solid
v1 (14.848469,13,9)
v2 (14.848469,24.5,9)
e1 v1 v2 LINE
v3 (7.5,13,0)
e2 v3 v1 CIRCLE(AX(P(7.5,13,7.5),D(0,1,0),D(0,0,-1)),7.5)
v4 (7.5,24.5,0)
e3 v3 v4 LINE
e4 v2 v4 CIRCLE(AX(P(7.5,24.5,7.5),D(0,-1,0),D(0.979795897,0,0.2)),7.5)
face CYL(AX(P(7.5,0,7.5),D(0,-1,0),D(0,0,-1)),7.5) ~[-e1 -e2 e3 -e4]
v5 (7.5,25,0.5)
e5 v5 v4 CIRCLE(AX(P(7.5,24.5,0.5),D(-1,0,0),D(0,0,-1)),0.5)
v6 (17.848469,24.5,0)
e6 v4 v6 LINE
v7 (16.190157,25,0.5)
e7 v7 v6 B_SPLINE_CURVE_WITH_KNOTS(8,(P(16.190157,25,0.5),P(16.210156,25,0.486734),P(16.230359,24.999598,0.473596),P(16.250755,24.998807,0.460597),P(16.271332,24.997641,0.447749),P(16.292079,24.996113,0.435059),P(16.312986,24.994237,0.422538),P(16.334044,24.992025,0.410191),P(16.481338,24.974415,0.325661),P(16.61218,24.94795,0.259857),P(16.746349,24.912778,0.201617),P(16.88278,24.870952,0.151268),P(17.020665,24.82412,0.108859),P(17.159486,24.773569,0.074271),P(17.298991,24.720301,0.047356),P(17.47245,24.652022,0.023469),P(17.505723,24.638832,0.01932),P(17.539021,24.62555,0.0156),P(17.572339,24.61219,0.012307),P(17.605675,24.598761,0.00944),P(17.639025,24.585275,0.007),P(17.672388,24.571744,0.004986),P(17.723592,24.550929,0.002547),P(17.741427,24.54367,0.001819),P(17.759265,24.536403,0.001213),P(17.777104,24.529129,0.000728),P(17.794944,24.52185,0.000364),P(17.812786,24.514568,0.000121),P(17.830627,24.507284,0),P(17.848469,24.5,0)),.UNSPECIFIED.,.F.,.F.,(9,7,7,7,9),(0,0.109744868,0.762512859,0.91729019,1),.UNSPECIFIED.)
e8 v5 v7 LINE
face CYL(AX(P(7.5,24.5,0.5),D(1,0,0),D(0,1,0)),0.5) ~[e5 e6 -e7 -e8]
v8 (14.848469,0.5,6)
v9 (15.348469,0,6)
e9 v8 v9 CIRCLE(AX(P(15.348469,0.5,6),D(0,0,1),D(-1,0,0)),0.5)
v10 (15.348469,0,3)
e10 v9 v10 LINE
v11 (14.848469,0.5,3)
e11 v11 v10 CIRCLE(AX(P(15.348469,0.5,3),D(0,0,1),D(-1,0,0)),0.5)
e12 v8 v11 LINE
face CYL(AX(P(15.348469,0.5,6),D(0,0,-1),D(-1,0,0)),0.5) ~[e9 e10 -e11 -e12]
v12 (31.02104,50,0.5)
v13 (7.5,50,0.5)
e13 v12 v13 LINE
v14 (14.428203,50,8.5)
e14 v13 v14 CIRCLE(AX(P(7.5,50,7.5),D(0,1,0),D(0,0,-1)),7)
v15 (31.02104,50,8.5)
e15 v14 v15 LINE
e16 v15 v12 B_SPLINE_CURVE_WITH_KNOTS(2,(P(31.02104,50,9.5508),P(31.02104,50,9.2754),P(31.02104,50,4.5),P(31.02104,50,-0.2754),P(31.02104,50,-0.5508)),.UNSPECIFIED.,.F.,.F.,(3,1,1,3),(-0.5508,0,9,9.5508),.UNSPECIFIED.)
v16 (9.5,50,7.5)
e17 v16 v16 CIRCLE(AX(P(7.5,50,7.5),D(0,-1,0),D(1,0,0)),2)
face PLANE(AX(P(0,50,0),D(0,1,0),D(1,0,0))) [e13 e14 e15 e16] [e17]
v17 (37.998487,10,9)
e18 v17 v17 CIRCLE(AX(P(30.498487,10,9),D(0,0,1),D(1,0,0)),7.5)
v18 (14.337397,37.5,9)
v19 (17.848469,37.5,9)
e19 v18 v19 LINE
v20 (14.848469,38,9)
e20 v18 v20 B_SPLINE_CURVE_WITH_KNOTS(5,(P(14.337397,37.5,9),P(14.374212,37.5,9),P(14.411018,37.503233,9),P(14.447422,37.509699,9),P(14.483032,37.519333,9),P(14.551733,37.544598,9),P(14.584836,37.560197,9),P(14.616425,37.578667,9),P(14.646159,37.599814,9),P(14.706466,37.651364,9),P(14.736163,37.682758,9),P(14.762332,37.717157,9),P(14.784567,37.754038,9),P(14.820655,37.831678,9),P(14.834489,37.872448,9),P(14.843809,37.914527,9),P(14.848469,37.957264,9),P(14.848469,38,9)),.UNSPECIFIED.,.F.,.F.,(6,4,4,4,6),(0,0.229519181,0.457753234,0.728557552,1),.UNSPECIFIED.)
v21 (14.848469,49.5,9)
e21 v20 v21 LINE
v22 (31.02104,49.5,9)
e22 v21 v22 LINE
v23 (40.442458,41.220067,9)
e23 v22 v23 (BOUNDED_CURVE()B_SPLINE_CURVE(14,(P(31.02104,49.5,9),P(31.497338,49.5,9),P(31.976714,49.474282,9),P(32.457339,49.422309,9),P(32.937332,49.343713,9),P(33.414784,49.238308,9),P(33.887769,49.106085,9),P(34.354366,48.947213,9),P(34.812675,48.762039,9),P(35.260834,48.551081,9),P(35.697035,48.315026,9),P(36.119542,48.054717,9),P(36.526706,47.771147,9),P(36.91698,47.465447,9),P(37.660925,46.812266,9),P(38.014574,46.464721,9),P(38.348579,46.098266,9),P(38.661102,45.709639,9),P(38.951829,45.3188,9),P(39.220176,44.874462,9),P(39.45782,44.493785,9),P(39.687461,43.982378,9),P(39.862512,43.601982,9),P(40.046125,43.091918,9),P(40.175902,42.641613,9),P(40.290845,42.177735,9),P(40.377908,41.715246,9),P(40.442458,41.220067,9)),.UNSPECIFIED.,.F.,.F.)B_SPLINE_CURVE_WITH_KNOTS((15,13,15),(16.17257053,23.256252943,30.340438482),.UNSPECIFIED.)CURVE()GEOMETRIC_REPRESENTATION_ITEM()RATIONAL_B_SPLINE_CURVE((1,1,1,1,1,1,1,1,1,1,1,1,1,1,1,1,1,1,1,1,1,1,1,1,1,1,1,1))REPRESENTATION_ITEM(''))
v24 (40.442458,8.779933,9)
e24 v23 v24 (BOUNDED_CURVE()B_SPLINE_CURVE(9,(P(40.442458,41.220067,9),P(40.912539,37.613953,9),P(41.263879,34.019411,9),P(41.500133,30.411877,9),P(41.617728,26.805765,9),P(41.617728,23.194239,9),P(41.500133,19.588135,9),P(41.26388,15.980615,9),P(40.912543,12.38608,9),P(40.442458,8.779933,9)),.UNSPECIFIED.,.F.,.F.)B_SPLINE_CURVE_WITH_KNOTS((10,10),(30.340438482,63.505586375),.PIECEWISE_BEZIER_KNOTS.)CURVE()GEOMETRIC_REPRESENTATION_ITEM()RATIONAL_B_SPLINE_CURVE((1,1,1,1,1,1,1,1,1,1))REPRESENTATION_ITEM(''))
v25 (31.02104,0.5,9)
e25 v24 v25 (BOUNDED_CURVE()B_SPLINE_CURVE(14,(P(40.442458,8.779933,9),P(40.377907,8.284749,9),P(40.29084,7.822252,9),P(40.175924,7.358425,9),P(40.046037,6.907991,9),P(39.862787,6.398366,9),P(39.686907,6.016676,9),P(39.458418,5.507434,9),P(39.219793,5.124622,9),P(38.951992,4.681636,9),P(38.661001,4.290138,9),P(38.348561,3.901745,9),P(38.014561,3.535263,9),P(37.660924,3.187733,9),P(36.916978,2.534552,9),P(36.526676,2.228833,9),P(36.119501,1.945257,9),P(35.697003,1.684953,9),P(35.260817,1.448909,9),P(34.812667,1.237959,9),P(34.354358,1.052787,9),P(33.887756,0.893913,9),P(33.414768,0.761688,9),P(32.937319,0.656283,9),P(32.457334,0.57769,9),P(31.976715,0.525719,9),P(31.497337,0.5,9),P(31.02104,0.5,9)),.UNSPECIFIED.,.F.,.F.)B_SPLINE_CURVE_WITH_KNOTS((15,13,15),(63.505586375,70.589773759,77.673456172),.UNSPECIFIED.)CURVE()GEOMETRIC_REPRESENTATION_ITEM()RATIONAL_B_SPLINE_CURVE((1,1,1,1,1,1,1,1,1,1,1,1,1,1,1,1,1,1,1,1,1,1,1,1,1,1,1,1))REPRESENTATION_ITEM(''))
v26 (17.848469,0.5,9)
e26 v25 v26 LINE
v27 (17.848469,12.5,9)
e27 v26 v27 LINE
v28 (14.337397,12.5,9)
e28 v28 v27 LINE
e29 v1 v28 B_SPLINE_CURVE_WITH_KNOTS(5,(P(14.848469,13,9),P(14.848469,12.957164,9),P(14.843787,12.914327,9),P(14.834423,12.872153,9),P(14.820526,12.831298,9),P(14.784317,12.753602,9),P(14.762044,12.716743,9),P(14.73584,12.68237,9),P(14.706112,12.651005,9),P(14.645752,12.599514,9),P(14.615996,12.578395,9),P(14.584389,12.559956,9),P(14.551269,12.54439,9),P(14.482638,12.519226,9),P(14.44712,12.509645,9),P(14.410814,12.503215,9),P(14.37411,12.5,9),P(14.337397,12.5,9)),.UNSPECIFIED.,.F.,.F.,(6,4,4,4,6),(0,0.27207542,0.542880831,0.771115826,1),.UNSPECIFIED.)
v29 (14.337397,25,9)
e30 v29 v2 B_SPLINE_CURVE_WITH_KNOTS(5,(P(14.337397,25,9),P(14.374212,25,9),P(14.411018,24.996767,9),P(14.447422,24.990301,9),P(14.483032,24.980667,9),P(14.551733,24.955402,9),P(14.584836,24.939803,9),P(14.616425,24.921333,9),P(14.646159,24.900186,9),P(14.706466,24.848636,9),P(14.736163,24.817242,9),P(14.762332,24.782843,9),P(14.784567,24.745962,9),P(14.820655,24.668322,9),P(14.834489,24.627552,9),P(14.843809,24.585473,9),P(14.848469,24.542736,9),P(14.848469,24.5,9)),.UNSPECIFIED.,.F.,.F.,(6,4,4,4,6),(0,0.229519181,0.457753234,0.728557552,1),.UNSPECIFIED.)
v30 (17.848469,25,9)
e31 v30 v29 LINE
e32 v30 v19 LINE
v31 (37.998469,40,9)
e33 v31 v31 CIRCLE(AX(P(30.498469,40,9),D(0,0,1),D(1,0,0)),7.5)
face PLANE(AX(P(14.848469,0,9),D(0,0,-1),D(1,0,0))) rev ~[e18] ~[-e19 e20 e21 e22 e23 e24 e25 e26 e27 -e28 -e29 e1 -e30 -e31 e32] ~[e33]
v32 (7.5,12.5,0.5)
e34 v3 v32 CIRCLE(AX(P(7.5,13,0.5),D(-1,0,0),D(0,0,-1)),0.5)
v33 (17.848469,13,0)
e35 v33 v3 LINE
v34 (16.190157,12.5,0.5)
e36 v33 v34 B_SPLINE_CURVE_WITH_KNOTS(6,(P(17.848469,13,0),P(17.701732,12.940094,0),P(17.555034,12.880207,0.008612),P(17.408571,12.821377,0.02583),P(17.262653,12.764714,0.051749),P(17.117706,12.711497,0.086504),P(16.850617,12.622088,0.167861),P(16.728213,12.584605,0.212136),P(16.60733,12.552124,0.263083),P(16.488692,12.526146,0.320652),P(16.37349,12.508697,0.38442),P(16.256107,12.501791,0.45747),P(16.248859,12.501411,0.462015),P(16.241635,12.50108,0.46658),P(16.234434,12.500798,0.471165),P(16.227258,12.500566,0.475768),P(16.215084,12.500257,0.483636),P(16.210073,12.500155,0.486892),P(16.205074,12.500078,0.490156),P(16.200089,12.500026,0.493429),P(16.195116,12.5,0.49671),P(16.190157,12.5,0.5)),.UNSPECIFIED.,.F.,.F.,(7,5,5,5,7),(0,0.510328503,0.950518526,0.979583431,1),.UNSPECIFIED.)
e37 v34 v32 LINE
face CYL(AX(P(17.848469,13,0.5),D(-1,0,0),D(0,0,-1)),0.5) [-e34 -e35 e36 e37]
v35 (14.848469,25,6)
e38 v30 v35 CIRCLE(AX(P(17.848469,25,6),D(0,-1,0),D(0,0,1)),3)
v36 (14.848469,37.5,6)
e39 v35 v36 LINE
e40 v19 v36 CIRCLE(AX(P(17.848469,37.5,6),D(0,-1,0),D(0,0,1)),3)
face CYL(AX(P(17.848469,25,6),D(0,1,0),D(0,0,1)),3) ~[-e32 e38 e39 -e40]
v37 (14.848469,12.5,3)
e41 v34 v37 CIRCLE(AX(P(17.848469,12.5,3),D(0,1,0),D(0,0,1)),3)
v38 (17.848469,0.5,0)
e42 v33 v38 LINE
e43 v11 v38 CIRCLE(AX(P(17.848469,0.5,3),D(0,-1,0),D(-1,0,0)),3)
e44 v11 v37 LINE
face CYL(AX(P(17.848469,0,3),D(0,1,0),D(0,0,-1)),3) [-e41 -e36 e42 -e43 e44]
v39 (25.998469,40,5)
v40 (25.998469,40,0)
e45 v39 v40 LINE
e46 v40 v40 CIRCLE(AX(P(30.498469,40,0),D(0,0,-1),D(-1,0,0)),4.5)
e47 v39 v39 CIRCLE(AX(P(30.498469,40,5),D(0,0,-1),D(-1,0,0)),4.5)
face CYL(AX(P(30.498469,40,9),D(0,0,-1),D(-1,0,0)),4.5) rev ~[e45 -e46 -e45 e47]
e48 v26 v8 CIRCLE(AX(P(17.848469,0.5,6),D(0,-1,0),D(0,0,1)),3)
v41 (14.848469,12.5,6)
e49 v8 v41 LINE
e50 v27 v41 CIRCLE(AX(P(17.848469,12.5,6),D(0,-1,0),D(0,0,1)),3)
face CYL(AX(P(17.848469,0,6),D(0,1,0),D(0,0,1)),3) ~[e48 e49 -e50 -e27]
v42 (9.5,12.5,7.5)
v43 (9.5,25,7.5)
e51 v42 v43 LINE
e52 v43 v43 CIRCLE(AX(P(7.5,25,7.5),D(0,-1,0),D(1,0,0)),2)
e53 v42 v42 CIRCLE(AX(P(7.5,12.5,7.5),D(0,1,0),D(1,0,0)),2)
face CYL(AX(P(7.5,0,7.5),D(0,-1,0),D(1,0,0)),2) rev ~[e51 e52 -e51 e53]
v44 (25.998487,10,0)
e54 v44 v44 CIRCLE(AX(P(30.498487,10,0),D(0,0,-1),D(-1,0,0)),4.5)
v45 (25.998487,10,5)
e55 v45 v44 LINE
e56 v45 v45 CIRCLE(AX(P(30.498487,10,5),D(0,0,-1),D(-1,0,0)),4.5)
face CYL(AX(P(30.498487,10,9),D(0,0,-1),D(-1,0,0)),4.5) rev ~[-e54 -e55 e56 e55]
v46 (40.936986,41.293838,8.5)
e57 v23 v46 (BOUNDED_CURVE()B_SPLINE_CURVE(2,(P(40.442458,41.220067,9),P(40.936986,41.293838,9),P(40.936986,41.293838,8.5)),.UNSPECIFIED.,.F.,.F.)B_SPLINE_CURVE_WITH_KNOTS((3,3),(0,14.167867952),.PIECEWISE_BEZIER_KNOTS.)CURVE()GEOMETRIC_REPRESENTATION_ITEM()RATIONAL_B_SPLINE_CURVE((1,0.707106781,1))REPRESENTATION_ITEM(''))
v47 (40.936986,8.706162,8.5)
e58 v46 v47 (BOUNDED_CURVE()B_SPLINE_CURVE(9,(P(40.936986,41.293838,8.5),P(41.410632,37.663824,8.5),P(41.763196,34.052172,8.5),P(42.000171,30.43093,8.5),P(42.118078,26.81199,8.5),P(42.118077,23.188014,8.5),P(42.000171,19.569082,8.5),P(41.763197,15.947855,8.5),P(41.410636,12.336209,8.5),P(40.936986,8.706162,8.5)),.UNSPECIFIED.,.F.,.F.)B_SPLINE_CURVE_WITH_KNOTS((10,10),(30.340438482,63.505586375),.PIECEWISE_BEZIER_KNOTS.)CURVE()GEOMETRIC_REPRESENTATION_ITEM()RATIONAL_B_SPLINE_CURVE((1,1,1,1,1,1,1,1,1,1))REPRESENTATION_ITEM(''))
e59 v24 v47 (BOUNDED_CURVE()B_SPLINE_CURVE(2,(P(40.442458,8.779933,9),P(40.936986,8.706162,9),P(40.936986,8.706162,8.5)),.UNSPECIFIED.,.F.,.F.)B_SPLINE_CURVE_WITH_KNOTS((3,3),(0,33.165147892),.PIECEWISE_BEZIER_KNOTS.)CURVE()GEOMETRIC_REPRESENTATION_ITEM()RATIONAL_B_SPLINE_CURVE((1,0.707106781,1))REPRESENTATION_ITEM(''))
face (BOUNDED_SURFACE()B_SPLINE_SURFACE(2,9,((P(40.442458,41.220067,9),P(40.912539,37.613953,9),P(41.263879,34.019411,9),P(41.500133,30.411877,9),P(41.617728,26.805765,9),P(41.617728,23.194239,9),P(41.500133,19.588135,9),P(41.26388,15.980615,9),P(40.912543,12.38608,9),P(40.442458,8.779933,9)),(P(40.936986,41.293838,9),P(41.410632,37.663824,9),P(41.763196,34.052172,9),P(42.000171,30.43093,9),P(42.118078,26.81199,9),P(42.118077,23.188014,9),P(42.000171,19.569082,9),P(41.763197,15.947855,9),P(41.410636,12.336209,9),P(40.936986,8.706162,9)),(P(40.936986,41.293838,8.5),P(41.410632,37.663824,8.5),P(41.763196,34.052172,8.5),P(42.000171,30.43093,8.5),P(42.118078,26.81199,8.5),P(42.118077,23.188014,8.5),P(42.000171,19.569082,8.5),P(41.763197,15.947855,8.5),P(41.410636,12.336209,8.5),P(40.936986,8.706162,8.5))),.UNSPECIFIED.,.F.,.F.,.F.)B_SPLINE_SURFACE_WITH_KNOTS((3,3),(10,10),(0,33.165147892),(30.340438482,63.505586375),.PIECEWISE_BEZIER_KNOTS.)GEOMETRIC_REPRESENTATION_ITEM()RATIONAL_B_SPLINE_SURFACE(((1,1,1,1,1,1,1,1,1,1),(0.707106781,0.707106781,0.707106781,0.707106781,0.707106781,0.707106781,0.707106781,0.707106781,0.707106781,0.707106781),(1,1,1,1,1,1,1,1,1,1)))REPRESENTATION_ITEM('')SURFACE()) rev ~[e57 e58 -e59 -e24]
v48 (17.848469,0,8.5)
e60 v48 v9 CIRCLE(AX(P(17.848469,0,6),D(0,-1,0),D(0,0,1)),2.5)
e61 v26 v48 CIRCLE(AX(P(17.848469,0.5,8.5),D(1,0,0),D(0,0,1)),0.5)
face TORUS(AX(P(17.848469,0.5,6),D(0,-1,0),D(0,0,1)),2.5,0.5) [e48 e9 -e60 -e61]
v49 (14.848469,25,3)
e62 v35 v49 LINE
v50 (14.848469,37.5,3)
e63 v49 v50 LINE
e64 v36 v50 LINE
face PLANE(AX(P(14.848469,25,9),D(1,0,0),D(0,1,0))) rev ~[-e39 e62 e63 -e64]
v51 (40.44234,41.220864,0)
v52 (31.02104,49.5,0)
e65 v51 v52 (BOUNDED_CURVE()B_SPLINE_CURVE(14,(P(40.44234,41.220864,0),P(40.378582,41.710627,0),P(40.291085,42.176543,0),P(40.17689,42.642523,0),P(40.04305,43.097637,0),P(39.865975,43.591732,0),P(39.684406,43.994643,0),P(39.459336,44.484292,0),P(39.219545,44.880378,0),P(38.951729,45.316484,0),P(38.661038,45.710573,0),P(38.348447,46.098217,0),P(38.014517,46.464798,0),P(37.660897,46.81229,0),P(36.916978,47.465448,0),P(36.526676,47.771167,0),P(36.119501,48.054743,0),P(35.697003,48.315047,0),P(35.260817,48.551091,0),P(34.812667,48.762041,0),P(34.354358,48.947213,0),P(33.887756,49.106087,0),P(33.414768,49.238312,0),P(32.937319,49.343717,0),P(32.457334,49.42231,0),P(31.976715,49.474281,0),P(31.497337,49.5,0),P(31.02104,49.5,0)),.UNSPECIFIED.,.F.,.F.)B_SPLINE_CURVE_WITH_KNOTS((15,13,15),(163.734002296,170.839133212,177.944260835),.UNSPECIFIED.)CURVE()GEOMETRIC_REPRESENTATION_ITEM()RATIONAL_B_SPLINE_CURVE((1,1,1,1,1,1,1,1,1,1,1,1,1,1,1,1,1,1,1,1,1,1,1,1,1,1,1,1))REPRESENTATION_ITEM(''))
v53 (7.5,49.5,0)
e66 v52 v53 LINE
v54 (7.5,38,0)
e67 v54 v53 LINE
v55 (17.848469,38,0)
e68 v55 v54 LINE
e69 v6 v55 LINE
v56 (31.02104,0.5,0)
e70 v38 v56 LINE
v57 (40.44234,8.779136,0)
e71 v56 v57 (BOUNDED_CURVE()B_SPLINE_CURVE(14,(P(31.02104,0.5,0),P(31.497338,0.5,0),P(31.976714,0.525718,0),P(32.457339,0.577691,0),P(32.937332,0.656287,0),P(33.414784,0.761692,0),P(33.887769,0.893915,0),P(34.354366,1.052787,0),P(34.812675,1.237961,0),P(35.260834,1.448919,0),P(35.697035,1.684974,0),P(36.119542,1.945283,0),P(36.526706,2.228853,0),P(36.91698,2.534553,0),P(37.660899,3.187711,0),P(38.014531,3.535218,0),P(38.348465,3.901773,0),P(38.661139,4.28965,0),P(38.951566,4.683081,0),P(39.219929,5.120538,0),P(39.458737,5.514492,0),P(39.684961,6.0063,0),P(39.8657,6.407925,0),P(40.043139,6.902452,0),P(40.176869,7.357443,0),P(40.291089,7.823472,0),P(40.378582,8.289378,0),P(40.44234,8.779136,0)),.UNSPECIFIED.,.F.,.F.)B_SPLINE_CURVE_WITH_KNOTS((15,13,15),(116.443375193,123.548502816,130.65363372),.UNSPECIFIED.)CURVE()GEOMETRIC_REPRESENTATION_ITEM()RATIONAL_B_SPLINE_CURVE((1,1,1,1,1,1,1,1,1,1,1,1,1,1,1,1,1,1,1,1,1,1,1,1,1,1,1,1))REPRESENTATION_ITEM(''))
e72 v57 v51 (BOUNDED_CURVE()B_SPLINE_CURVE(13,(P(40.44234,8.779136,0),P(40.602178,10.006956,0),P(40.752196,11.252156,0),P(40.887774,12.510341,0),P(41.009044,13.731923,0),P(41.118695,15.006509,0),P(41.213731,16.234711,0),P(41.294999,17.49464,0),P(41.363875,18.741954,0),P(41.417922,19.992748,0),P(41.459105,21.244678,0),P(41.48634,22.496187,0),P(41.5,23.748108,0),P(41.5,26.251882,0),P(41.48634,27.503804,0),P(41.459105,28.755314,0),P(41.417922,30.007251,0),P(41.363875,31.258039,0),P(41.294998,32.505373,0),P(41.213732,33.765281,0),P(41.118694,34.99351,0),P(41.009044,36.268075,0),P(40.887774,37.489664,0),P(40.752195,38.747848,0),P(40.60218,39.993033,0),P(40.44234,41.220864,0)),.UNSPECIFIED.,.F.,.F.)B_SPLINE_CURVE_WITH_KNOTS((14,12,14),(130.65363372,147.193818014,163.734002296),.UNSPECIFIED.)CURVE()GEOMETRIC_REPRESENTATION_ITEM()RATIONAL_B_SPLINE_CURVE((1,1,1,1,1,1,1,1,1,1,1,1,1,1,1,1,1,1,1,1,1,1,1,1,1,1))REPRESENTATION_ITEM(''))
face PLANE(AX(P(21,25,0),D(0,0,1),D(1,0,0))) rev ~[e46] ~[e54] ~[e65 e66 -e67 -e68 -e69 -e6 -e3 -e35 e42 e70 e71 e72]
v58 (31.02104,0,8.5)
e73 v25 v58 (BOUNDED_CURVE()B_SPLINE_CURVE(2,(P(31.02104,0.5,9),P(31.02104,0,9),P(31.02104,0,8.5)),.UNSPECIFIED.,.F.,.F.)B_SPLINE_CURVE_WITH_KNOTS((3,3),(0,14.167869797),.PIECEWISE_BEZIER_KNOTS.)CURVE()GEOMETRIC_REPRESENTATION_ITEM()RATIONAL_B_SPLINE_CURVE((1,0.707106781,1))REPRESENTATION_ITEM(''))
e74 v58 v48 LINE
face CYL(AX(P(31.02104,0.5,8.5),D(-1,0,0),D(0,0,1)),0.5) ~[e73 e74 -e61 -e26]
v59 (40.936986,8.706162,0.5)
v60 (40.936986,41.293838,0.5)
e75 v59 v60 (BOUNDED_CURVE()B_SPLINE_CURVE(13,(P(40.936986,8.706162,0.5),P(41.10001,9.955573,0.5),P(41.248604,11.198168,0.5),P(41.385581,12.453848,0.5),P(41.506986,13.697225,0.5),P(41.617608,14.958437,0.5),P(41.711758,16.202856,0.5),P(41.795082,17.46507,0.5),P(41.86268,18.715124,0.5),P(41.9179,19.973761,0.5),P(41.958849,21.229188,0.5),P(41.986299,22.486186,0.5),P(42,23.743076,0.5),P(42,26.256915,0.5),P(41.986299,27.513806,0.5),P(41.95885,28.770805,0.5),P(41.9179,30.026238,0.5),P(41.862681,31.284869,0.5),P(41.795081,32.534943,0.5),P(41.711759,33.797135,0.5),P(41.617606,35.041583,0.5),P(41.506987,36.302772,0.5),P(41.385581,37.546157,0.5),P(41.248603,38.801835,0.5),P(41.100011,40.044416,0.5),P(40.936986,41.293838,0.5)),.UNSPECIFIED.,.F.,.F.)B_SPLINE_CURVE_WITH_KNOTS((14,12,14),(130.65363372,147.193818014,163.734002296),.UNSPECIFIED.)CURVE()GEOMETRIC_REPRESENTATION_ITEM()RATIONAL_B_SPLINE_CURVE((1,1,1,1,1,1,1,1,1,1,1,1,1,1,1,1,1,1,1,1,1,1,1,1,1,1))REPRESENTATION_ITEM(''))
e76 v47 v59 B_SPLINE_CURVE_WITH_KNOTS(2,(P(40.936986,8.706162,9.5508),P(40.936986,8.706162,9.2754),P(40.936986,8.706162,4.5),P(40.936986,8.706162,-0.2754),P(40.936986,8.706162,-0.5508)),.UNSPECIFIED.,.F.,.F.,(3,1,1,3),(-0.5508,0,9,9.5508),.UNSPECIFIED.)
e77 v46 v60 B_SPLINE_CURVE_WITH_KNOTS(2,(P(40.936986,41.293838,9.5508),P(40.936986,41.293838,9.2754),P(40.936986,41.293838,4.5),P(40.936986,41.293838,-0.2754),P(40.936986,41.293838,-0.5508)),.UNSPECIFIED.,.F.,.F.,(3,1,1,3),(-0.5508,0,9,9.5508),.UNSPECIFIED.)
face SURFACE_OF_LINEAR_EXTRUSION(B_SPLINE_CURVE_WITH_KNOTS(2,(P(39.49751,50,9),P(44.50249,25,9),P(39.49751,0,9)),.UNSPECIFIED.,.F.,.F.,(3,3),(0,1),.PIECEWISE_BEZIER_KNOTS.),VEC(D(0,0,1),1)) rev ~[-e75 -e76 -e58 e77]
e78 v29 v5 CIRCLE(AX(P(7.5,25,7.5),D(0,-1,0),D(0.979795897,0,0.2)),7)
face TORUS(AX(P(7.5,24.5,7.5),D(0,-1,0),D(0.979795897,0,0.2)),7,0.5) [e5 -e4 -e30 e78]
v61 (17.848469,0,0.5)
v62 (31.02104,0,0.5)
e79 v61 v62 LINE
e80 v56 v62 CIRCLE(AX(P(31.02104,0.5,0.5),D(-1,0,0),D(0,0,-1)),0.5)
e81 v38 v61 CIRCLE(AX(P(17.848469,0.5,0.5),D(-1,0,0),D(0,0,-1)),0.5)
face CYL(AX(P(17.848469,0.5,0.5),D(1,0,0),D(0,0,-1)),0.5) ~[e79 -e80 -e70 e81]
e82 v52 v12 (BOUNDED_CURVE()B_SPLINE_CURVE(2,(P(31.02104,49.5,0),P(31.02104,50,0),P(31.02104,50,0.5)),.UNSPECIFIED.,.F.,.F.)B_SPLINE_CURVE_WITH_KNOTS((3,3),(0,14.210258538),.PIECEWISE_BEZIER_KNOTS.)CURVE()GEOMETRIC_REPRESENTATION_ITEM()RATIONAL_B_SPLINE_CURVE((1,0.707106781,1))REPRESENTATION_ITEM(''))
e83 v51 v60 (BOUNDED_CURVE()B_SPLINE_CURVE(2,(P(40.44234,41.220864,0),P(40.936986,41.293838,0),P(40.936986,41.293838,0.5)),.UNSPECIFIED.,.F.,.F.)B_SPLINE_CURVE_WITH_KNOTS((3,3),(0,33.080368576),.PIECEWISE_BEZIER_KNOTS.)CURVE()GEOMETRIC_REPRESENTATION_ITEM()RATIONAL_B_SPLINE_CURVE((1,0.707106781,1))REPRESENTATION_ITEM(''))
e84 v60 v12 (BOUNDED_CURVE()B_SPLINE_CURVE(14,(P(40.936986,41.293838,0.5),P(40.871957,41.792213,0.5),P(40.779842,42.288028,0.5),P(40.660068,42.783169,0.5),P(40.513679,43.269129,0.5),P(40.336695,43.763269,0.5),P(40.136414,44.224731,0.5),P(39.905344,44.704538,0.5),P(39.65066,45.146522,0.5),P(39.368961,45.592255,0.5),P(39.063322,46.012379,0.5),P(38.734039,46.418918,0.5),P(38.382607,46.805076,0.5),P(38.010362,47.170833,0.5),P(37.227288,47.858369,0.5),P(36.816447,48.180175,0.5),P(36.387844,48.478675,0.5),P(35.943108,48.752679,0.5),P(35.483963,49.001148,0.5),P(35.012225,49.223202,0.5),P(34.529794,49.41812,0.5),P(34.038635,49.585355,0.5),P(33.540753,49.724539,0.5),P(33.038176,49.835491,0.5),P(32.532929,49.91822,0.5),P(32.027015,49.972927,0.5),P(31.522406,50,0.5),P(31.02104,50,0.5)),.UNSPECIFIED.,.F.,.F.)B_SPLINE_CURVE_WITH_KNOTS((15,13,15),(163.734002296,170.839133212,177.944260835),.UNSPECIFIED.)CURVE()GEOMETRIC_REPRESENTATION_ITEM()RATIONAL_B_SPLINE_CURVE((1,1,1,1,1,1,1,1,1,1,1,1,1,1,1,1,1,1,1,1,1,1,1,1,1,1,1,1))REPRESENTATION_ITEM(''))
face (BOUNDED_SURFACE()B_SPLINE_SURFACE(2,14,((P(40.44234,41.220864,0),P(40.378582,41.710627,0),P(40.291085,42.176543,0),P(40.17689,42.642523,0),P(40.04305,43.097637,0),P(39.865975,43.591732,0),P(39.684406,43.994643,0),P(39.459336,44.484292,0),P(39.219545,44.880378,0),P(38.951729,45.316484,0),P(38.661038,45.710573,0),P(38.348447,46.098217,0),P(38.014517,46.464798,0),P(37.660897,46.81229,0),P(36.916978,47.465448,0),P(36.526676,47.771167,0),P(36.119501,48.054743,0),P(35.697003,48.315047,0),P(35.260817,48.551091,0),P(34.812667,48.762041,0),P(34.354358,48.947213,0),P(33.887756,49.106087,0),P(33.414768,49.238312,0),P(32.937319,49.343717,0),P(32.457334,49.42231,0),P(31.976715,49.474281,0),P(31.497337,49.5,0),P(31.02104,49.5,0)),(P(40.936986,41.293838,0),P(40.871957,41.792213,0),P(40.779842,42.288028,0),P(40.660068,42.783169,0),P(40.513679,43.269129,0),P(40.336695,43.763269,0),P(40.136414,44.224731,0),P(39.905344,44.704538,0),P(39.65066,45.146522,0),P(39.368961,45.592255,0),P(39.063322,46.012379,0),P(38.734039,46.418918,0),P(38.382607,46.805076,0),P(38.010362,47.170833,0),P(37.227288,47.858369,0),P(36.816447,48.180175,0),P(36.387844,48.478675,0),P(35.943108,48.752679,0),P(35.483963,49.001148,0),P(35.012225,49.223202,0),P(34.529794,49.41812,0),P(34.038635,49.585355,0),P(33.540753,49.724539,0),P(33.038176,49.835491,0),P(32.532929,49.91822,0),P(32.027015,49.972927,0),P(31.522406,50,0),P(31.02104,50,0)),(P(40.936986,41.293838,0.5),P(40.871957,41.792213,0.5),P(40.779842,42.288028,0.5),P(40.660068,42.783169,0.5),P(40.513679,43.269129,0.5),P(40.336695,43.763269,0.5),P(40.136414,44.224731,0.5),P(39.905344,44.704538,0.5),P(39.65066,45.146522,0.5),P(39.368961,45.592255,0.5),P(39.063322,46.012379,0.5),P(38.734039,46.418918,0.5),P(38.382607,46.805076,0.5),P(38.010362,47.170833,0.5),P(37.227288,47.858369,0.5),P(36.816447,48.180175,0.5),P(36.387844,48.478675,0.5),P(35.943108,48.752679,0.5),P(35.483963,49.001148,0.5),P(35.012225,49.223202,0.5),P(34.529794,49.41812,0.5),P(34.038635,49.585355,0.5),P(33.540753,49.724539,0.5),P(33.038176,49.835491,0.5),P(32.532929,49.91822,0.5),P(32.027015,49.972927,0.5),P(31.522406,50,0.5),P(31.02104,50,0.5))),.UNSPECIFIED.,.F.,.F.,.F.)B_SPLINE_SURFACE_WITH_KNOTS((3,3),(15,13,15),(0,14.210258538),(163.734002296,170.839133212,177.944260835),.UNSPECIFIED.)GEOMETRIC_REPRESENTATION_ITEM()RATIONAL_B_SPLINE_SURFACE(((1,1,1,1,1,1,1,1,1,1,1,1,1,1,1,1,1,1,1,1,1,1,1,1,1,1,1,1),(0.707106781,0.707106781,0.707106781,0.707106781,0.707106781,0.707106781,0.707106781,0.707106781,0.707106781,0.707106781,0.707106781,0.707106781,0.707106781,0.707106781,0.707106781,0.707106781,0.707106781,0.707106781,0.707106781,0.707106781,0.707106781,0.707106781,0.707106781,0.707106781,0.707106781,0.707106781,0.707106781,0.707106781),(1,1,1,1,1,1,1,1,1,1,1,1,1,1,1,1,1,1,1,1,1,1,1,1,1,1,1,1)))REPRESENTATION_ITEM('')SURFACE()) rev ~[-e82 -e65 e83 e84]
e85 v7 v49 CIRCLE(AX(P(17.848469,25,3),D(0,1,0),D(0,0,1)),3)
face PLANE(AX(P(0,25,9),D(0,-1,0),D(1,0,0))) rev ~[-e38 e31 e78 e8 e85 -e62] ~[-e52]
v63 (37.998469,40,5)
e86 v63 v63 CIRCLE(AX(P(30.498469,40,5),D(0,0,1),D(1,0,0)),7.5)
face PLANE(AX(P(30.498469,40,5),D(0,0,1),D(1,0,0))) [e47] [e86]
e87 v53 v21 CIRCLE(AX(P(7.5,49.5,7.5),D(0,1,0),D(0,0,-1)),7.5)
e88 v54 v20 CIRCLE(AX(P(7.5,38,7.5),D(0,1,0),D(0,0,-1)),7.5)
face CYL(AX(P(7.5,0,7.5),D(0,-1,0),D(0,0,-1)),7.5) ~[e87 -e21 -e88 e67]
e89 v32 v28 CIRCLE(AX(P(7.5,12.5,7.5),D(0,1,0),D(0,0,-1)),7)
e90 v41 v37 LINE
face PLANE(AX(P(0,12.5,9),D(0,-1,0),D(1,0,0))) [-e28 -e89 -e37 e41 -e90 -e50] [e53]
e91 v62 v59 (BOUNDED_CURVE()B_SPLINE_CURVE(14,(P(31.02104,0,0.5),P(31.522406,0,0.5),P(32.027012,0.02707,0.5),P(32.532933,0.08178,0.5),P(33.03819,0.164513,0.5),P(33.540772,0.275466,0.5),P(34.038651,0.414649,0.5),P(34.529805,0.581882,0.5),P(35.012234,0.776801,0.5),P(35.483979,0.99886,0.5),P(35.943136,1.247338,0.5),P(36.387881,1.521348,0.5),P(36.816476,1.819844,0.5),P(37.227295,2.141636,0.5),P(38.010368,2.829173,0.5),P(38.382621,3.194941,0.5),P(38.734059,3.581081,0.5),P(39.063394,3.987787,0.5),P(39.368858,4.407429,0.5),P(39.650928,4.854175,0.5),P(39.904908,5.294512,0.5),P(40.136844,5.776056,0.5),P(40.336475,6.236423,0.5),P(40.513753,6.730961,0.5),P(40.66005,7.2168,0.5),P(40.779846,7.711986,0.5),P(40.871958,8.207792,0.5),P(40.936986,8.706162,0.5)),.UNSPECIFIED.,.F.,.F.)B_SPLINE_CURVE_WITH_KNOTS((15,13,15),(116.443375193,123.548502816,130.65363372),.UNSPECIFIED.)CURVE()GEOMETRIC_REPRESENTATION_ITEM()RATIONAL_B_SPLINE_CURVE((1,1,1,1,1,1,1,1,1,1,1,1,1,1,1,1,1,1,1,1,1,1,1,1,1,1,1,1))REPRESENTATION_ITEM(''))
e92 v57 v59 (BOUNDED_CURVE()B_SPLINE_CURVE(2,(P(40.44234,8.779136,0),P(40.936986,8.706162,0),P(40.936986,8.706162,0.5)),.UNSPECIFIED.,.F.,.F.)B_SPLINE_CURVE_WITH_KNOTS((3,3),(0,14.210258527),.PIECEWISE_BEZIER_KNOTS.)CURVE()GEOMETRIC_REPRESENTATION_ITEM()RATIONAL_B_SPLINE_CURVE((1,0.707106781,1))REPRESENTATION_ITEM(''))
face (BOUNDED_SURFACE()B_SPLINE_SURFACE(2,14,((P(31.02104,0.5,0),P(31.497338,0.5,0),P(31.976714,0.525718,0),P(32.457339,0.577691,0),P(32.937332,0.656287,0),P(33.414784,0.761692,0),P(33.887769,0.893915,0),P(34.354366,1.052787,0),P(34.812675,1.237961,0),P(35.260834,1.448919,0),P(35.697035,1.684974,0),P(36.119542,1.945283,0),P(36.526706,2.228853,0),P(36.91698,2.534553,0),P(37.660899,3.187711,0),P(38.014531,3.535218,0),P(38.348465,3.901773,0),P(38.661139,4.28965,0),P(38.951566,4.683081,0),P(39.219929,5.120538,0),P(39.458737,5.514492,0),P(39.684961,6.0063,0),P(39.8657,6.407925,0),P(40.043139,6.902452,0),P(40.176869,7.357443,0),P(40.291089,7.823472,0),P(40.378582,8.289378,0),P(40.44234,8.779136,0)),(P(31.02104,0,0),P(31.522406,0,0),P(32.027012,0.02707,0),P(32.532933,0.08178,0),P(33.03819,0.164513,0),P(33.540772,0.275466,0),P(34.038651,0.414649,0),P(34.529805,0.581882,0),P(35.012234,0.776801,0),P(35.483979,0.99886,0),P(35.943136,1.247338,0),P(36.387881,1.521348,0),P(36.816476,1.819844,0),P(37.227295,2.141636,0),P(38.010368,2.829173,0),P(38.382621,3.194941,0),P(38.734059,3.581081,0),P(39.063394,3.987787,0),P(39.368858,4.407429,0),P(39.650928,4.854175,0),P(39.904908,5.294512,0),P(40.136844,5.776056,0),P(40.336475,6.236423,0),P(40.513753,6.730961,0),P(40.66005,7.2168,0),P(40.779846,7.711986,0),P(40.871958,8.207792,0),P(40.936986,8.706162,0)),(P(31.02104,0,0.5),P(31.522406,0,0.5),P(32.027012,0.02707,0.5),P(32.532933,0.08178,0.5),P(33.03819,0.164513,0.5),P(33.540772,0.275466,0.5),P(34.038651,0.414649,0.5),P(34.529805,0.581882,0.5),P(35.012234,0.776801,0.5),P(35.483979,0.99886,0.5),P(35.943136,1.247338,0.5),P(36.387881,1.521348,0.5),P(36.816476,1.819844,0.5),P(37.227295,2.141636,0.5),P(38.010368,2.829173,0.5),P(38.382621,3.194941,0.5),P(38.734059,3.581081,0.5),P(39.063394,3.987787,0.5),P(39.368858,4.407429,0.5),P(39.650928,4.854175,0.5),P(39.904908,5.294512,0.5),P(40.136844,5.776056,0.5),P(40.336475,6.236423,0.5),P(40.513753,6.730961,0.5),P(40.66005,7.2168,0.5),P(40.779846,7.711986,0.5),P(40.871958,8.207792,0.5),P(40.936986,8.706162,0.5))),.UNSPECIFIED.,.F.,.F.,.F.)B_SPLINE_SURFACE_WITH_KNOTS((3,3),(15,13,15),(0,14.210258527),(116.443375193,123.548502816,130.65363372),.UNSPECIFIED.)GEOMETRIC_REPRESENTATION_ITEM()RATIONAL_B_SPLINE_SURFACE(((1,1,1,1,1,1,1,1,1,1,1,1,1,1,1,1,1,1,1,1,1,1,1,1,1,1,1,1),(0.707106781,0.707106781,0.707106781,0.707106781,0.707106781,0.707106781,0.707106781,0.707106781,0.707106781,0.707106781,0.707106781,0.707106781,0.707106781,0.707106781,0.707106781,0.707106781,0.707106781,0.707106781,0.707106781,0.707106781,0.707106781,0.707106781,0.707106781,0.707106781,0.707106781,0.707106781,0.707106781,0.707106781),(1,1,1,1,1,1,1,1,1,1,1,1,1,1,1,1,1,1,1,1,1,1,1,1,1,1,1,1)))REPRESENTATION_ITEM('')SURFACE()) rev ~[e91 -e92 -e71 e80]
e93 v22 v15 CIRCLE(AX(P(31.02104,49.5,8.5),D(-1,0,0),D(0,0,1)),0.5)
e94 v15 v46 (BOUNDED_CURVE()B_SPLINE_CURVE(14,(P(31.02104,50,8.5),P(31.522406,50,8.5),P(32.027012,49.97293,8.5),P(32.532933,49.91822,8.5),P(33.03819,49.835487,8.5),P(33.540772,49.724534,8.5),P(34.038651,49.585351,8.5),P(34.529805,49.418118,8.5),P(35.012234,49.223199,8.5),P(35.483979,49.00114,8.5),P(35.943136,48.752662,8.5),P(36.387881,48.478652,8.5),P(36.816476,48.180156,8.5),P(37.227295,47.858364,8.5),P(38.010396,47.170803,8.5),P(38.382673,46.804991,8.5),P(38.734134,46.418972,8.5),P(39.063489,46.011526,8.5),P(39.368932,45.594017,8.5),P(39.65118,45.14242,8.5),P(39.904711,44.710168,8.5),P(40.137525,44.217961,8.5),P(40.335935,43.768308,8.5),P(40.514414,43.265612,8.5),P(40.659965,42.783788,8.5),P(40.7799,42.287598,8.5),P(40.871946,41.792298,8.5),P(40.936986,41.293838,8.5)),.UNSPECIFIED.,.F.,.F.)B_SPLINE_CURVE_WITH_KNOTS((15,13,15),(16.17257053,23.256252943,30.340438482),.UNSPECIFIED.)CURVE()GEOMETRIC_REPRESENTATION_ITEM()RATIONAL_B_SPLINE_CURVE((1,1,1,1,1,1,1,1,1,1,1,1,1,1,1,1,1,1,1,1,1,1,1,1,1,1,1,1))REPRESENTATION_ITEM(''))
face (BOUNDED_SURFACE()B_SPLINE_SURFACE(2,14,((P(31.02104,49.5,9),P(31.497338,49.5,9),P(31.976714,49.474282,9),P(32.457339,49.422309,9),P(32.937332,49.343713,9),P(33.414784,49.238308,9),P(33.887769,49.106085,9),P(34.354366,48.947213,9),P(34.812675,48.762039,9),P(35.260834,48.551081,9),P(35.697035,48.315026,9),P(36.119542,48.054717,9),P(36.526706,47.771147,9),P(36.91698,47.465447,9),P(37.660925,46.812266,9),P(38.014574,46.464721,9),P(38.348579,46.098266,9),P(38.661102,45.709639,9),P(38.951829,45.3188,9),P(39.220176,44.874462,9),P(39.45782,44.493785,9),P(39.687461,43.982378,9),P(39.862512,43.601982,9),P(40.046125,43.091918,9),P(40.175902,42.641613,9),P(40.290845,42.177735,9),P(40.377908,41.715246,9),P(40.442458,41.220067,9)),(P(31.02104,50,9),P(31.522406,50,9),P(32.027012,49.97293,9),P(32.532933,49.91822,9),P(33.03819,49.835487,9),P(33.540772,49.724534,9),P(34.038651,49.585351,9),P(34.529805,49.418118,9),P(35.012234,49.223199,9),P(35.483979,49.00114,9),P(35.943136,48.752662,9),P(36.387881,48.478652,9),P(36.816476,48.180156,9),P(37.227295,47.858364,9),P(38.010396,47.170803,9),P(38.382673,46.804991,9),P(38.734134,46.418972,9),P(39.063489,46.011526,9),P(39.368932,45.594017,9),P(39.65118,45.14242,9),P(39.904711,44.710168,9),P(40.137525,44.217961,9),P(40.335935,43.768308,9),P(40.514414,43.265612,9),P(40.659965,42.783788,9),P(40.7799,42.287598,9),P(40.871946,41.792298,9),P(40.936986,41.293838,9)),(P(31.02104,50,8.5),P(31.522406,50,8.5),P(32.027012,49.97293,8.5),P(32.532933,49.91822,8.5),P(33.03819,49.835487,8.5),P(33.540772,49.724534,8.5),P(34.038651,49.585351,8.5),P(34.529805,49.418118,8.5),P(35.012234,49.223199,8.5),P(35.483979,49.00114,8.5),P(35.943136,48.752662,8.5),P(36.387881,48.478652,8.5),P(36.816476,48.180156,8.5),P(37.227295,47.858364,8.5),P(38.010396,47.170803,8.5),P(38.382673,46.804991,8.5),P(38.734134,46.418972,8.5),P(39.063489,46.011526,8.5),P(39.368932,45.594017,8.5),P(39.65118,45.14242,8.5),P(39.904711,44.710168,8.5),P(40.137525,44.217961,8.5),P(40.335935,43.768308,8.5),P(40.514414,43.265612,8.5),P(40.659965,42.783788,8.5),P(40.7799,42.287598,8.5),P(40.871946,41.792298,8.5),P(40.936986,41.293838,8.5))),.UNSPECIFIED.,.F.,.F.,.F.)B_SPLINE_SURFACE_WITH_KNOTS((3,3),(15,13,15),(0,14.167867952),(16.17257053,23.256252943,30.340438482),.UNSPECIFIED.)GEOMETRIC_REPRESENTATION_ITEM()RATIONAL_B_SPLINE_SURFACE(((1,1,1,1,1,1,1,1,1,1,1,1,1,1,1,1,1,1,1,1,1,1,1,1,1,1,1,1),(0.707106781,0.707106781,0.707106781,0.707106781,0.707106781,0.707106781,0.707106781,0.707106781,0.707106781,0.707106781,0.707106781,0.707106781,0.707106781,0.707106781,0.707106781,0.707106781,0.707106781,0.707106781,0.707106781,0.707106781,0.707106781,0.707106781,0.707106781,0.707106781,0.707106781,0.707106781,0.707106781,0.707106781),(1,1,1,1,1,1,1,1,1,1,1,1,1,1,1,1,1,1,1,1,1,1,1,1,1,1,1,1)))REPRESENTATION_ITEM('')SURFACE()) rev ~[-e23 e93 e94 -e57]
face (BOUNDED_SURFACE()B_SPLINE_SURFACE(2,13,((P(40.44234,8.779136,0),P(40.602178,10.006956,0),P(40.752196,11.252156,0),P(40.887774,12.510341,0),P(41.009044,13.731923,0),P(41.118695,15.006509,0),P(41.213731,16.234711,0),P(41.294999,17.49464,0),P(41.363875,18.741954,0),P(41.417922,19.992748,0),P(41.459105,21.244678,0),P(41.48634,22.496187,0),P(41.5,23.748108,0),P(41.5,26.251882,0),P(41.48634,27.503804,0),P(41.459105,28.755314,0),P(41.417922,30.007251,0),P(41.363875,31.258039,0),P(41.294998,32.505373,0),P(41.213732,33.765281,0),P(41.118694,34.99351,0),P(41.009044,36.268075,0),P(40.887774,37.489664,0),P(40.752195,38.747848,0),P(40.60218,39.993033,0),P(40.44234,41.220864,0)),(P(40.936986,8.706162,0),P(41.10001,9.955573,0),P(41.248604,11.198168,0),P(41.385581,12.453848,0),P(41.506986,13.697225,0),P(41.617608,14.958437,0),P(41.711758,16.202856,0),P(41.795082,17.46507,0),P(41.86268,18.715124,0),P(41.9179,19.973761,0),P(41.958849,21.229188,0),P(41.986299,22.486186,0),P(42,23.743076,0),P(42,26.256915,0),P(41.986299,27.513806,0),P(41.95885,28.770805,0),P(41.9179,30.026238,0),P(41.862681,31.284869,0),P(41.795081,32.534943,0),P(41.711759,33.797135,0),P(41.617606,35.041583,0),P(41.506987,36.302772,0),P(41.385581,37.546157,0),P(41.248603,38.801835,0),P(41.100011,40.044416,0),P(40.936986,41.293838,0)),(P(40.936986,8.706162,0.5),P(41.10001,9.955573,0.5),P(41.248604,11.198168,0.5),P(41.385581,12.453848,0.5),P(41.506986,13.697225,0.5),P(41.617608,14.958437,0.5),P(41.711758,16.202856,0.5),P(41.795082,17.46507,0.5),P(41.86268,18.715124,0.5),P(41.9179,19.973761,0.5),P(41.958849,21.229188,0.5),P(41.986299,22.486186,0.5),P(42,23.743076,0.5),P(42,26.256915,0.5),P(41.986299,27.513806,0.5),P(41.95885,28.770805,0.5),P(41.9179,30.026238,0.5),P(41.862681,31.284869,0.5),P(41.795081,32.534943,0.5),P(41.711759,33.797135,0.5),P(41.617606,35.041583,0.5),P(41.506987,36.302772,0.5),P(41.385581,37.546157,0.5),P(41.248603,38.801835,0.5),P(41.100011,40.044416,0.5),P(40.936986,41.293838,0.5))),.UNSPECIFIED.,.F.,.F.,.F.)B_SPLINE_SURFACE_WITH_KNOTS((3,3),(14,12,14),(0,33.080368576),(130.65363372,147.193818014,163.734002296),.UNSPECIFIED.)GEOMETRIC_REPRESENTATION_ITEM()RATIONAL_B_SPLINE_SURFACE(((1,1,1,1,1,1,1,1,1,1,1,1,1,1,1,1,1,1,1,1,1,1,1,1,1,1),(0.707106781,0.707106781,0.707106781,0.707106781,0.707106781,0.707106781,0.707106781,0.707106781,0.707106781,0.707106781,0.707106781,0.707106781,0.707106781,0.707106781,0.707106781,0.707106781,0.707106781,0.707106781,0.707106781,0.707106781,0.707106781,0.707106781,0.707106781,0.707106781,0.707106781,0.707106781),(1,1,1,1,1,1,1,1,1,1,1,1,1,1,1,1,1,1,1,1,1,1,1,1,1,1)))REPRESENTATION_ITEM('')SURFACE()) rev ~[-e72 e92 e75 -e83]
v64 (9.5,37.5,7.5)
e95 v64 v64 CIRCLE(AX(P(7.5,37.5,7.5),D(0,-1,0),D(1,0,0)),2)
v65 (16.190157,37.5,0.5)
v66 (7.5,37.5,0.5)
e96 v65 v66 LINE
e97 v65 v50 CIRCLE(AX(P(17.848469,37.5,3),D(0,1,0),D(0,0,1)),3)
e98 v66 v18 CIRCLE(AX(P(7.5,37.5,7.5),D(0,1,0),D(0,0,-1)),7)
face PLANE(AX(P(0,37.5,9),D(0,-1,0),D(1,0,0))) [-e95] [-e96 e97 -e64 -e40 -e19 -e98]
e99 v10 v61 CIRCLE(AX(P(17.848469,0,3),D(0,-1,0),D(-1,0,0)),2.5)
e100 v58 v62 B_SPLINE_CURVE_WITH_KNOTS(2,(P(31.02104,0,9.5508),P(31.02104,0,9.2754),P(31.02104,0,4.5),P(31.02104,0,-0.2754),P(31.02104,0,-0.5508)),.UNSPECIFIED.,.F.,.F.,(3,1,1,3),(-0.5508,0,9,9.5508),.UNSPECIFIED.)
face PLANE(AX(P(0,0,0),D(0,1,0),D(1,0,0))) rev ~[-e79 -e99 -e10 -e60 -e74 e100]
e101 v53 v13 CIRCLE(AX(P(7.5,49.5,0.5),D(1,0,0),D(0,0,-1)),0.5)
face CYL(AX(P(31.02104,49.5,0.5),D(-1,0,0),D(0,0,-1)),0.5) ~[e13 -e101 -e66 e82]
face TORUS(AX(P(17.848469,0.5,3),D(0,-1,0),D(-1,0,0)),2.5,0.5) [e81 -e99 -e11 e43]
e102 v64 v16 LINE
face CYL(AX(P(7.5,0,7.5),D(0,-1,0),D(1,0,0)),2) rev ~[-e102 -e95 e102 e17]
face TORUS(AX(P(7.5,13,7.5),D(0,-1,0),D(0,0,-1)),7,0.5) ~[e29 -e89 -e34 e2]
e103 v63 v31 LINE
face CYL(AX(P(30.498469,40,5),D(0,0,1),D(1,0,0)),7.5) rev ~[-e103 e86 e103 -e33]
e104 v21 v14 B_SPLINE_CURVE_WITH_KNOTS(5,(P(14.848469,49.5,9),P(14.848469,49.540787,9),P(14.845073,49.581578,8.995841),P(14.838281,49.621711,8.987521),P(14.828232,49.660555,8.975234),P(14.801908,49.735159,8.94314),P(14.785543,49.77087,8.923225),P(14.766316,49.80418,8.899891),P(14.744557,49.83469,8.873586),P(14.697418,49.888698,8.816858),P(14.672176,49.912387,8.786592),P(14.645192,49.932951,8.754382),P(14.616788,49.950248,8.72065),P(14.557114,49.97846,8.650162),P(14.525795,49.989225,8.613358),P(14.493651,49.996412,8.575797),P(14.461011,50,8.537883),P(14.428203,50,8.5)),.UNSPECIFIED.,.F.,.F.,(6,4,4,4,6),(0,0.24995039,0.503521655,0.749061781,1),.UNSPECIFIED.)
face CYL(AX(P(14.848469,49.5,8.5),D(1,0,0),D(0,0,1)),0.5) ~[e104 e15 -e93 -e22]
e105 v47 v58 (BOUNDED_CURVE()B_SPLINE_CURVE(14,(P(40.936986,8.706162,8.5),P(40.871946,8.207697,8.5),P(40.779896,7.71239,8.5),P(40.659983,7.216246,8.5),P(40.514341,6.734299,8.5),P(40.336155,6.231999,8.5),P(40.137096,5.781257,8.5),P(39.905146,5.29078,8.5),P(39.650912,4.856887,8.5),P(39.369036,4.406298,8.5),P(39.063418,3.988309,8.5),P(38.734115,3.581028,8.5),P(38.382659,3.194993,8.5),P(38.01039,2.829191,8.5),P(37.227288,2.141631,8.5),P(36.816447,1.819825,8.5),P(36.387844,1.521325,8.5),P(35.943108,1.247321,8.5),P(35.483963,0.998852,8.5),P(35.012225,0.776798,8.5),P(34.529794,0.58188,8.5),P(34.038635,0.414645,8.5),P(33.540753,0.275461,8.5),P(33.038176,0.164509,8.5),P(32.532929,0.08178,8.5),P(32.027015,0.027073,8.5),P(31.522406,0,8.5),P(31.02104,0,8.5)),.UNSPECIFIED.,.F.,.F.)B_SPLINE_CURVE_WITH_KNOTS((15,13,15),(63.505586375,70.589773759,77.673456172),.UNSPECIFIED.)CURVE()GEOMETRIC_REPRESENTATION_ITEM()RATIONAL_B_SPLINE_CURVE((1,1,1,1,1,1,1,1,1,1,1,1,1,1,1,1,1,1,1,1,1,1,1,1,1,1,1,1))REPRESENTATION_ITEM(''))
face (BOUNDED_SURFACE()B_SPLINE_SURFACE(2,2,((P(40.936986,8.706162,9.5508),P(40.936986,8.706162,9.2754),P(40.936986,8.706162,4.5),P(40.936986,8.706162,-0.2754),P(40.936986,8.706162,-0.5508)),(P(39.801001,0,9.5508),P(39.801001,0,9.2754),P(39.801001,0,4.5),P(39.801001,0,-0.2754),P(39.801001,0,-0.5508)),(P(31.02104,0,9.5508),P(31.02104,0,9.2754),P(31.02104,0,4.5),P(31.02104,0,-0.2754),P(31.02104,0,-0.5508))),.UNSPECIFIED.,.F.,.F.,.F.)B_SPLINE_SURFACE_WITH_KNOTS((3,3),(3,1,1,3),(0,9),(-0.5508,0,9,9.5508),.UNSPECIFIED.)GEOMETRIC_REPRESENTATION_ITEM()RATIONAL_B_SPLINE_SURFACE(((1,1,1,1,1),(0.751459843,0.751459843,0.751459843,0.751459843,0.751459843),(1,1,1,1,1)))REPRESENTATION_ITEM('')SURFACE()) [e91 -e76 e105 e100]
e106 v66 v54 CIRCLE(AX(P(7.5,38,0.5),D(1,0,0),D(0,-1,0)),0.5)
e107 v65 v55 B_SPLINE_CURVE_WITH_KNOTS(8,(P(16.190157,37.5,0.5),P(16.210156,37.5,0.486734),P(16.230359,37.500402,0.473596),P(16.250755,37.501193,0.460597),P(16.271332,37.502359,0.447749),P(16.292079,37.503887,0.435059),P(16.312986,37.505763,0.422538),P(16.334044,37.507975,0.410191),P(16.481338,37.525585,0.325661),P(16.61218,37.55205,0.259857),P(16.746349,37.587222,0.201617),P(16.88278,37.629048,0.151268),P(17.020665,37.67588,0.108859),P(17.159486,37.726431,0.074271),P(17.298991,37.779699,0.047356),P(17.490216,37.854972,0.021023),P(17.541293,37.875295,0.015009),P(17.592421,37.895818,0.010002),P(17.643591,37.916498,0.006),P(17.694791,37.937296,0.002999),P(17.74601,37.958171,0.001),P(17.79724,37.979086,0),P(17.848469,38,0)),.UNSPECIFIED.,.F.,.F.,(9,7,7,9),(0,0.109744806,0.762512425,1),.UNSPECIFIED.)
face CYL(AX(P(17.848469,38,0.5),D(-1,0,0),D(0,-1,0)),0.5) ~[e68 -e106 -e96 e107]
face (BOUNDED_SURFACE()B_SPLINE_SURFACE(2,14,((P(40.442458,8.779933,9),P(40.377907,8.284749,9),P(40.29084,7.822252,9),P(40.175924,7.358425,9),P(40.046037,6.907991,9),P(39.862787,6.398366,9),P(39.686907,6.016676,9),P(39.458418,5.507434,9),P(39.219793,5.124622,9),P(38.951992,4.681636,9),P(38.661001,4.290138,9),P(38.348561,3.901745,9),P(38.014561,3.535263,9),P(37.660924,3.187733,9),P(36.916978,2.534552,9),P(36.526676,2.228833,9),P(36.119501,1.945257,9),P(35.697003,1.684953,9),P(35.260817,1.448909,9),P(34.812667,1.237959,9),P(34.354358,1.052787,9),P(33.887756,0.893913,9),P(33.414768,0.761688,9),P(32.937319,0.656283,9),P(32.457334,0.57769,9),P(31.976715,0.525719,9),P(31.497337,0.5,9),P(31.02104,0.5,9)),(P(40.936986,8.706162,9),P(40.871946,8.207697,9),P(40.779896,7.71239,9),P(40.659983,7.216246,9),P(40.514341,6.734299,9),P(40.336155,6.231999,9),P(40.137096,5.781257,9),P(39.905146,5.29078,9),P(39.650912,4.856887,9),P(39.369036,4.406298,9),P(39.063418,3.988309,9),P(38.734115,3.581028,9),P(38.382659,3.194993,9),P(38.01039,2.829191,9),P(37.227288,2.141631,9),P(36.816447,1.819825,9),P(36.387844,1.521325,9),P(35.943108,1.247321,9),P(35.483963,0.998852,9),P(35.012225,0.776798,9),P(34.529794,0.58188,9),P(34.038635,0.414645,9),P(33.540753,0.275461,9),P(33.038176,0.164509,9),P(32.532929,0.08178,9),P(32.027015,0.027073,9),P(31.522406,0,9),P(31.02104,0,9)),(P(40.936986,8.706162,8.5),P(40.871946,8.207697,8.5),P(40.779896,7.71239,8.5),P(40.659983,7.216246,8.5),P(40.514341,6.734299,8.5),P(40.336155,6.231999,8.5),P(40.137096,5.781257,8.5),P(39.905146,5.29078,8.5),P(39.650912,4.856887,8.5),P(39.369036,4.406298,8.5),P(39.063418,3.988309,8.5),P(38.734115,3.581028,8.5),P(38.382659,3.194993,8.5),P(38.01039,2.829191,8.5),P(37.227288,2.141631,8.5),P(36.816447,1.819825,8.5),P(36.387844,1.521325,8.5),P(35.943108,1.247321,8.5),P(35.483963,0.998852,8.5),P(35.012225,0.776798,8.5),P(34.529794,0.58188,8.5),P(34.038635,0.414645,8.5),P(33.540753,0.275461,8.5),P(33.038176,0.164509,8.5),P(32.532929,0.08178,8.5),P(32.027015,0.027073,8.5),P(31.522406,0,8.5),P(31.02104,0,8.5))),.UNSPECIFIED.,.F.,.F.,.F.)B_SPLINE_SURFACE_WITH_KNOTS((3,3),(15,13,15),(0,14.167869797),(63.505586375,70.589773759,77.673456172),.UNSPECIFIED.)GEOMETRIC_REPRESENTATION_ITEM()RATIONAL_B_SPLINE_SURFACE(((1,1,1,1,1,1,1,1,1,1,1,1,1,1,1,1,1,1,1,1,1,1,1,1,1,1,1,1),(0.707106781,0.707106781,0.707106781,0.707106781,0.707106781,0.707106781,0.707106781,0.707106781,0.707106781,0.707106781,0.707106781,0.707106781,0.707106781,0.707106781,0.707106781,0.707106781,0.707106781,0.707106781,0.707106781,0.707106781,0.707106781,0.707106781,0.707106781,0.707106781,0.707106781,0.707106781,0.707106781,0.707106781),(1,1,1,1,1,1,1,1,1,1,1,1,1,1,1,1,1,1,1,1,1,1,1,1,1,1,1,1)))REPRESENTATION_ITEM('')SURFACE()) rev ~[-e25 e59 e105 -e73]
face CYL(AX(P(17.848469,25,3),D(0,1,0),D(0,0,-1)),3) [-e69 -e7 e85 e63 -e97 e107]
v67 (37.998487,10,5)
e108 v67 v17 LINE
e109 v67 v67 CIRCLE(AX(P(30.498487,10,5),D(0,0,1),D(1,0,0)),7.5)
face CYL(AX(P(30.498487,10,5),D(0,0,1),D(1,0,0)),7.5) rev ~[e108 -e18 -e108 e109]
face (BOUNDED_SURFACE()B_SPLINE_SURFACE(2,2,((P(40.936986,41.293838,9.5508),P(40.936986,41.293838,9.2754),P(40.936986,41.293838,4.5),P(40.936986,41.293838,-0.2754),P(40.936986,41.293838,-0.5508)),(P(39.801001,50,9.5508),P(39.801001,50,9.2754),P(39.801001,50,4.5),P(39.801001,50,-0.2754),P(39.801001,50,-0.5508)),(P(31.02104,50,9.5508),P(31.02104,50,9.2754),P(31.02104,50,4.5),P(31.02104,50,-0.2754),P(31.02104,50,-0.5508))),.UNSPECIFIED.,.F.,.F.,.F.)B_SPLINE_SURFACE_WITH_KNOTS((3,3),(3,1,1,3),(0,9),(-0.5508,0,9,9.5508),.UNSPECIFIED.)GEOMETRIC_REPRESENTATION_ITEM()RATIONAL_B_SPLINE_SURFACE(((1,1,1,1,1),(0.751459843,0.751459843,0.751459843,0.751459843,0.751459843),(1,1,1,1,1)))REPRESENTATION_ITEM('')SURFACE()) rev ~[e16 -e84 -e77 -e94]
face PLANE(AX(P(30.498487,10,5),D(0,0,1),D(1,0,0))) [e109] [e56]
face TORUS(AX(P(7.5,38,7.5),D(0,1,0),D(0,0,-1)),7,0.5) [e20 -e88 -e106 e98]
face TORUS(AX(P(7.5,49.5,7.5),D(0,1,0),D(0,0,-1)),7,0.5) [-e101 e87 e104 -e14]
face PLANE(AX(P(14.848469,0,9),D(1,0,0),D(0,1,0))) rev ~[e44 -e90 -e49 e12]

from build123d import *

# Parameters (mm, degrees)
SKETCH1_W                                           = 42
SKETCH1_H                                           = 50
BOSS_EXTRUDE1_DEPTH                                 = 15
SKETCH2_OUTSIDE_W                                   = 57.4
SKETCH2_OUTSIDE_H                                   = 30.4
SKETCH2_OUTSIDE_R                                   = 2
CUT_EXTRUDE1_DEPTH                                  = 51
CUT_EXTRUDE2_DEPTH                                  = 15
FILLET1_R                                           = 10
CBORE_FOR_M8_HEX_SOCKET_HEAD_CAP_SCREW1_D           = 9
CBORE_FOR_M8_HEX_SOCKET_HEAD_CAP_SCREW1_DEPTH       = 15
CBORE_FOR_M8_HEX_SOCKET_HEAD_CAP_SCREW1_CBORE_D     = 15
CBORE_FOR_M8_HEX_SOCKET_HEAD_CAP_SCREW1_CBORE_DEPTH = 4
CBORE_FOR_M8_HEX_SOCKET_HEAD_CAP_SCREW1_TIP         = 2.703872786
SKETCH6_W                                           = 14.848469228
SKETCH6_H                                           = 12.5
CUT_EXTRUDE3_DEPTH                                  = 7.0000001
CUT_EXTRUDE3_DEPTH_BACK                             = 10.0000001
FILLET2_R                                           = 3
FILLET3_R                                           = 0.5


with BuildPart() as part:
    # Sketch1 → Boss-Extrude1 (new body)
    with BuildSketch(Plane.XY):
        with Locations((21, 25)):
            Rectangle(SKETCH1_W, SKETCH1_H)
    extrude(amount=BOSS_EXTRUDE1_DEPTH)

    # Sketch2 outside → Cut-Extrude1 (cut, through all)
    with BuildSketch(Plane.XZ):
        with Locations((21, 7.5)):
            Rectangle(SKETCH2_OUTSIDE_W, SKETCH2_OUTSIDE_H)
        with BuildLine():
            Line((42, 0), (7.5, 0))
            ThreePointArc((7.5, 0), (1.690524981, 12.24341649), (14.848469228, 9))
            Line((14.848469228, 9), (42, 9))
            Line((42, 9), (42, 0))
        make_face(mode=Mode.SUBTRACT)
        with Locations((7.5, 7.5)):
            Circle(SKETCH2_OUTSIDE_R)
    extrude(amount=-CUT_EXTRUDE1_DEPTH, mode=Mode.SUBTRACT)

    # Sketch3 → Cut-Extrude2 (cut)
    with BuildSketch(Plane.XY.offset(9)):
        with BuildLine():
            Line((39.497510003, 50), (57.034840996, 50))
            Line((57.034840996, 50), (57.034840996, 0))
            Line((57.034840996, 0), (39.497510003, 0))
            add(Edge.make_bspline(
                [(39.497510003, 50), (44.502489997, 25), (39.497510003, 0)],
                knots=[0, 0, 0, 1, 1, 1], degree=2))
        make_face()
    extrude(amount=-CUT_EXTRUDE2_DEPTH, mode=Mode.SUBTRACT)

    # Fillet1
    fillet1_edges = [part.edges().sort_by_distance(p)[0] for p in [
        (39.497510003, 50, 4.5),
        (39.497510003, 0, 4.5),
    ]]
    fillet(fillet1_edges, radius=FILLET1_R)

    # CBORE for M8 Hex Socket Head Cap Screw1
    with Locations(Plane.XY.offset(9)):
        with Locations((30.498486782, 10), (30.498469228, 40)):
            CounterBoreHole(CBORE_FOR_M8_HEX_SOCKET_HEAD_CAP_SCREW1_D / 2, CBORE_FOR_M8_HEX_SOCKET_HEAD_CAP_SCREW1_CBORE_D / 2, CBORE_FOR_M8_HEX_SOCKET_HEAD_CAP_SCREW1_CBORE_DEPTH, depth=CBORE_FOR_M8_HEX_SOCKET_HEAD_CAP_SCREW1_DEPTH)
            with Locations((0, 0, -(CBORE_FOR_M8_HEX_SOCKET_HEAD_CAP_SCREW1_DEPTH + CBORE_FOR_M8_HEX_SOCKET_HEAD_CAP_SCREW1_TIP / 2))):  # 118° drill point
                Cone(0, CBORE_FOR_M8_HEX_SOCKET_HEAD_CAP_SCREW1_D / 2, CBORE_FOR_M8_HEX_SOCKET_HEAD_CAP_SCREW1_TIP, mode=Mode.SUBTRACT)

    # Sketch6 → Cut-Extrude3 (cut, two sides)
    with BuildSketch(Plane.XY.offset(9)) as cut_extrude3_sk:
        with Locations((7.424234614, 6.25)):
            Rectangle(SKETCH6_W, SKETCH6_H)
        with Locations((7.424234614, 31.25)):
            Rectangle(SKETCH6_W, SKETCH6_H)
    extrude(amount=CUT_EXTRUDE3_DEPTH, mode=Mode.SUBTRACT)
    extrude(cut_extrude3_sk.sketch, amount=-CUT_EXTRUDE3_DEPTH_BACK, mode=Mode.SUBTRACT)

    # Fillet2
    fillet2_edges = [part.edges().sort_by_distance(p)[0] for p in [
        (14.848469228, 31.25, 9),
        (14.848469228, 6.25, 9),
        (14.848469228, 6.25, 0),
        (14.848469228, 31.25, 0),
    ]]
    fillet(fillet2_edges, radius=FILLET2_R)

    # Fillet3
    fillet3_edges = [part.edges().sort_by_distance(p)[0] for p in [
        (1.690524981, 12.5, 12.24341649),
        (11.174234614, 12.5, 0),
        (1.690524981, 37.5, 12.24341649),
        (11.174234614, 37.5, 0),
        (1.690524981, 25, 12.24341649),
        (11.174234614, 25, 0),
        (24.434754493, 0, 0),
        (14.848469228, 0, 4.5),
        (15.727148885, 0, 8.121320344),
        (15.727148885, 0, 0.878679656),
        (1.690524981, 50, 12.24341649),
        (42, 25, 0),
        (42, 25, 9),
        (22.934754493, 50, 9),
        (24.434754493, 0, 9),
        (37.618828061, 2.485401574, 9),
        (37.618828061, 47.514598426, 9),
        (19.260519879, 50, 0),
        (37.618828061, 2.485401574, 0),
        (37.618828061, 47.514598426, 0),
    ]]
    fillet(fillet3_edges, radius=FILLET3_R)


solid = part.part
